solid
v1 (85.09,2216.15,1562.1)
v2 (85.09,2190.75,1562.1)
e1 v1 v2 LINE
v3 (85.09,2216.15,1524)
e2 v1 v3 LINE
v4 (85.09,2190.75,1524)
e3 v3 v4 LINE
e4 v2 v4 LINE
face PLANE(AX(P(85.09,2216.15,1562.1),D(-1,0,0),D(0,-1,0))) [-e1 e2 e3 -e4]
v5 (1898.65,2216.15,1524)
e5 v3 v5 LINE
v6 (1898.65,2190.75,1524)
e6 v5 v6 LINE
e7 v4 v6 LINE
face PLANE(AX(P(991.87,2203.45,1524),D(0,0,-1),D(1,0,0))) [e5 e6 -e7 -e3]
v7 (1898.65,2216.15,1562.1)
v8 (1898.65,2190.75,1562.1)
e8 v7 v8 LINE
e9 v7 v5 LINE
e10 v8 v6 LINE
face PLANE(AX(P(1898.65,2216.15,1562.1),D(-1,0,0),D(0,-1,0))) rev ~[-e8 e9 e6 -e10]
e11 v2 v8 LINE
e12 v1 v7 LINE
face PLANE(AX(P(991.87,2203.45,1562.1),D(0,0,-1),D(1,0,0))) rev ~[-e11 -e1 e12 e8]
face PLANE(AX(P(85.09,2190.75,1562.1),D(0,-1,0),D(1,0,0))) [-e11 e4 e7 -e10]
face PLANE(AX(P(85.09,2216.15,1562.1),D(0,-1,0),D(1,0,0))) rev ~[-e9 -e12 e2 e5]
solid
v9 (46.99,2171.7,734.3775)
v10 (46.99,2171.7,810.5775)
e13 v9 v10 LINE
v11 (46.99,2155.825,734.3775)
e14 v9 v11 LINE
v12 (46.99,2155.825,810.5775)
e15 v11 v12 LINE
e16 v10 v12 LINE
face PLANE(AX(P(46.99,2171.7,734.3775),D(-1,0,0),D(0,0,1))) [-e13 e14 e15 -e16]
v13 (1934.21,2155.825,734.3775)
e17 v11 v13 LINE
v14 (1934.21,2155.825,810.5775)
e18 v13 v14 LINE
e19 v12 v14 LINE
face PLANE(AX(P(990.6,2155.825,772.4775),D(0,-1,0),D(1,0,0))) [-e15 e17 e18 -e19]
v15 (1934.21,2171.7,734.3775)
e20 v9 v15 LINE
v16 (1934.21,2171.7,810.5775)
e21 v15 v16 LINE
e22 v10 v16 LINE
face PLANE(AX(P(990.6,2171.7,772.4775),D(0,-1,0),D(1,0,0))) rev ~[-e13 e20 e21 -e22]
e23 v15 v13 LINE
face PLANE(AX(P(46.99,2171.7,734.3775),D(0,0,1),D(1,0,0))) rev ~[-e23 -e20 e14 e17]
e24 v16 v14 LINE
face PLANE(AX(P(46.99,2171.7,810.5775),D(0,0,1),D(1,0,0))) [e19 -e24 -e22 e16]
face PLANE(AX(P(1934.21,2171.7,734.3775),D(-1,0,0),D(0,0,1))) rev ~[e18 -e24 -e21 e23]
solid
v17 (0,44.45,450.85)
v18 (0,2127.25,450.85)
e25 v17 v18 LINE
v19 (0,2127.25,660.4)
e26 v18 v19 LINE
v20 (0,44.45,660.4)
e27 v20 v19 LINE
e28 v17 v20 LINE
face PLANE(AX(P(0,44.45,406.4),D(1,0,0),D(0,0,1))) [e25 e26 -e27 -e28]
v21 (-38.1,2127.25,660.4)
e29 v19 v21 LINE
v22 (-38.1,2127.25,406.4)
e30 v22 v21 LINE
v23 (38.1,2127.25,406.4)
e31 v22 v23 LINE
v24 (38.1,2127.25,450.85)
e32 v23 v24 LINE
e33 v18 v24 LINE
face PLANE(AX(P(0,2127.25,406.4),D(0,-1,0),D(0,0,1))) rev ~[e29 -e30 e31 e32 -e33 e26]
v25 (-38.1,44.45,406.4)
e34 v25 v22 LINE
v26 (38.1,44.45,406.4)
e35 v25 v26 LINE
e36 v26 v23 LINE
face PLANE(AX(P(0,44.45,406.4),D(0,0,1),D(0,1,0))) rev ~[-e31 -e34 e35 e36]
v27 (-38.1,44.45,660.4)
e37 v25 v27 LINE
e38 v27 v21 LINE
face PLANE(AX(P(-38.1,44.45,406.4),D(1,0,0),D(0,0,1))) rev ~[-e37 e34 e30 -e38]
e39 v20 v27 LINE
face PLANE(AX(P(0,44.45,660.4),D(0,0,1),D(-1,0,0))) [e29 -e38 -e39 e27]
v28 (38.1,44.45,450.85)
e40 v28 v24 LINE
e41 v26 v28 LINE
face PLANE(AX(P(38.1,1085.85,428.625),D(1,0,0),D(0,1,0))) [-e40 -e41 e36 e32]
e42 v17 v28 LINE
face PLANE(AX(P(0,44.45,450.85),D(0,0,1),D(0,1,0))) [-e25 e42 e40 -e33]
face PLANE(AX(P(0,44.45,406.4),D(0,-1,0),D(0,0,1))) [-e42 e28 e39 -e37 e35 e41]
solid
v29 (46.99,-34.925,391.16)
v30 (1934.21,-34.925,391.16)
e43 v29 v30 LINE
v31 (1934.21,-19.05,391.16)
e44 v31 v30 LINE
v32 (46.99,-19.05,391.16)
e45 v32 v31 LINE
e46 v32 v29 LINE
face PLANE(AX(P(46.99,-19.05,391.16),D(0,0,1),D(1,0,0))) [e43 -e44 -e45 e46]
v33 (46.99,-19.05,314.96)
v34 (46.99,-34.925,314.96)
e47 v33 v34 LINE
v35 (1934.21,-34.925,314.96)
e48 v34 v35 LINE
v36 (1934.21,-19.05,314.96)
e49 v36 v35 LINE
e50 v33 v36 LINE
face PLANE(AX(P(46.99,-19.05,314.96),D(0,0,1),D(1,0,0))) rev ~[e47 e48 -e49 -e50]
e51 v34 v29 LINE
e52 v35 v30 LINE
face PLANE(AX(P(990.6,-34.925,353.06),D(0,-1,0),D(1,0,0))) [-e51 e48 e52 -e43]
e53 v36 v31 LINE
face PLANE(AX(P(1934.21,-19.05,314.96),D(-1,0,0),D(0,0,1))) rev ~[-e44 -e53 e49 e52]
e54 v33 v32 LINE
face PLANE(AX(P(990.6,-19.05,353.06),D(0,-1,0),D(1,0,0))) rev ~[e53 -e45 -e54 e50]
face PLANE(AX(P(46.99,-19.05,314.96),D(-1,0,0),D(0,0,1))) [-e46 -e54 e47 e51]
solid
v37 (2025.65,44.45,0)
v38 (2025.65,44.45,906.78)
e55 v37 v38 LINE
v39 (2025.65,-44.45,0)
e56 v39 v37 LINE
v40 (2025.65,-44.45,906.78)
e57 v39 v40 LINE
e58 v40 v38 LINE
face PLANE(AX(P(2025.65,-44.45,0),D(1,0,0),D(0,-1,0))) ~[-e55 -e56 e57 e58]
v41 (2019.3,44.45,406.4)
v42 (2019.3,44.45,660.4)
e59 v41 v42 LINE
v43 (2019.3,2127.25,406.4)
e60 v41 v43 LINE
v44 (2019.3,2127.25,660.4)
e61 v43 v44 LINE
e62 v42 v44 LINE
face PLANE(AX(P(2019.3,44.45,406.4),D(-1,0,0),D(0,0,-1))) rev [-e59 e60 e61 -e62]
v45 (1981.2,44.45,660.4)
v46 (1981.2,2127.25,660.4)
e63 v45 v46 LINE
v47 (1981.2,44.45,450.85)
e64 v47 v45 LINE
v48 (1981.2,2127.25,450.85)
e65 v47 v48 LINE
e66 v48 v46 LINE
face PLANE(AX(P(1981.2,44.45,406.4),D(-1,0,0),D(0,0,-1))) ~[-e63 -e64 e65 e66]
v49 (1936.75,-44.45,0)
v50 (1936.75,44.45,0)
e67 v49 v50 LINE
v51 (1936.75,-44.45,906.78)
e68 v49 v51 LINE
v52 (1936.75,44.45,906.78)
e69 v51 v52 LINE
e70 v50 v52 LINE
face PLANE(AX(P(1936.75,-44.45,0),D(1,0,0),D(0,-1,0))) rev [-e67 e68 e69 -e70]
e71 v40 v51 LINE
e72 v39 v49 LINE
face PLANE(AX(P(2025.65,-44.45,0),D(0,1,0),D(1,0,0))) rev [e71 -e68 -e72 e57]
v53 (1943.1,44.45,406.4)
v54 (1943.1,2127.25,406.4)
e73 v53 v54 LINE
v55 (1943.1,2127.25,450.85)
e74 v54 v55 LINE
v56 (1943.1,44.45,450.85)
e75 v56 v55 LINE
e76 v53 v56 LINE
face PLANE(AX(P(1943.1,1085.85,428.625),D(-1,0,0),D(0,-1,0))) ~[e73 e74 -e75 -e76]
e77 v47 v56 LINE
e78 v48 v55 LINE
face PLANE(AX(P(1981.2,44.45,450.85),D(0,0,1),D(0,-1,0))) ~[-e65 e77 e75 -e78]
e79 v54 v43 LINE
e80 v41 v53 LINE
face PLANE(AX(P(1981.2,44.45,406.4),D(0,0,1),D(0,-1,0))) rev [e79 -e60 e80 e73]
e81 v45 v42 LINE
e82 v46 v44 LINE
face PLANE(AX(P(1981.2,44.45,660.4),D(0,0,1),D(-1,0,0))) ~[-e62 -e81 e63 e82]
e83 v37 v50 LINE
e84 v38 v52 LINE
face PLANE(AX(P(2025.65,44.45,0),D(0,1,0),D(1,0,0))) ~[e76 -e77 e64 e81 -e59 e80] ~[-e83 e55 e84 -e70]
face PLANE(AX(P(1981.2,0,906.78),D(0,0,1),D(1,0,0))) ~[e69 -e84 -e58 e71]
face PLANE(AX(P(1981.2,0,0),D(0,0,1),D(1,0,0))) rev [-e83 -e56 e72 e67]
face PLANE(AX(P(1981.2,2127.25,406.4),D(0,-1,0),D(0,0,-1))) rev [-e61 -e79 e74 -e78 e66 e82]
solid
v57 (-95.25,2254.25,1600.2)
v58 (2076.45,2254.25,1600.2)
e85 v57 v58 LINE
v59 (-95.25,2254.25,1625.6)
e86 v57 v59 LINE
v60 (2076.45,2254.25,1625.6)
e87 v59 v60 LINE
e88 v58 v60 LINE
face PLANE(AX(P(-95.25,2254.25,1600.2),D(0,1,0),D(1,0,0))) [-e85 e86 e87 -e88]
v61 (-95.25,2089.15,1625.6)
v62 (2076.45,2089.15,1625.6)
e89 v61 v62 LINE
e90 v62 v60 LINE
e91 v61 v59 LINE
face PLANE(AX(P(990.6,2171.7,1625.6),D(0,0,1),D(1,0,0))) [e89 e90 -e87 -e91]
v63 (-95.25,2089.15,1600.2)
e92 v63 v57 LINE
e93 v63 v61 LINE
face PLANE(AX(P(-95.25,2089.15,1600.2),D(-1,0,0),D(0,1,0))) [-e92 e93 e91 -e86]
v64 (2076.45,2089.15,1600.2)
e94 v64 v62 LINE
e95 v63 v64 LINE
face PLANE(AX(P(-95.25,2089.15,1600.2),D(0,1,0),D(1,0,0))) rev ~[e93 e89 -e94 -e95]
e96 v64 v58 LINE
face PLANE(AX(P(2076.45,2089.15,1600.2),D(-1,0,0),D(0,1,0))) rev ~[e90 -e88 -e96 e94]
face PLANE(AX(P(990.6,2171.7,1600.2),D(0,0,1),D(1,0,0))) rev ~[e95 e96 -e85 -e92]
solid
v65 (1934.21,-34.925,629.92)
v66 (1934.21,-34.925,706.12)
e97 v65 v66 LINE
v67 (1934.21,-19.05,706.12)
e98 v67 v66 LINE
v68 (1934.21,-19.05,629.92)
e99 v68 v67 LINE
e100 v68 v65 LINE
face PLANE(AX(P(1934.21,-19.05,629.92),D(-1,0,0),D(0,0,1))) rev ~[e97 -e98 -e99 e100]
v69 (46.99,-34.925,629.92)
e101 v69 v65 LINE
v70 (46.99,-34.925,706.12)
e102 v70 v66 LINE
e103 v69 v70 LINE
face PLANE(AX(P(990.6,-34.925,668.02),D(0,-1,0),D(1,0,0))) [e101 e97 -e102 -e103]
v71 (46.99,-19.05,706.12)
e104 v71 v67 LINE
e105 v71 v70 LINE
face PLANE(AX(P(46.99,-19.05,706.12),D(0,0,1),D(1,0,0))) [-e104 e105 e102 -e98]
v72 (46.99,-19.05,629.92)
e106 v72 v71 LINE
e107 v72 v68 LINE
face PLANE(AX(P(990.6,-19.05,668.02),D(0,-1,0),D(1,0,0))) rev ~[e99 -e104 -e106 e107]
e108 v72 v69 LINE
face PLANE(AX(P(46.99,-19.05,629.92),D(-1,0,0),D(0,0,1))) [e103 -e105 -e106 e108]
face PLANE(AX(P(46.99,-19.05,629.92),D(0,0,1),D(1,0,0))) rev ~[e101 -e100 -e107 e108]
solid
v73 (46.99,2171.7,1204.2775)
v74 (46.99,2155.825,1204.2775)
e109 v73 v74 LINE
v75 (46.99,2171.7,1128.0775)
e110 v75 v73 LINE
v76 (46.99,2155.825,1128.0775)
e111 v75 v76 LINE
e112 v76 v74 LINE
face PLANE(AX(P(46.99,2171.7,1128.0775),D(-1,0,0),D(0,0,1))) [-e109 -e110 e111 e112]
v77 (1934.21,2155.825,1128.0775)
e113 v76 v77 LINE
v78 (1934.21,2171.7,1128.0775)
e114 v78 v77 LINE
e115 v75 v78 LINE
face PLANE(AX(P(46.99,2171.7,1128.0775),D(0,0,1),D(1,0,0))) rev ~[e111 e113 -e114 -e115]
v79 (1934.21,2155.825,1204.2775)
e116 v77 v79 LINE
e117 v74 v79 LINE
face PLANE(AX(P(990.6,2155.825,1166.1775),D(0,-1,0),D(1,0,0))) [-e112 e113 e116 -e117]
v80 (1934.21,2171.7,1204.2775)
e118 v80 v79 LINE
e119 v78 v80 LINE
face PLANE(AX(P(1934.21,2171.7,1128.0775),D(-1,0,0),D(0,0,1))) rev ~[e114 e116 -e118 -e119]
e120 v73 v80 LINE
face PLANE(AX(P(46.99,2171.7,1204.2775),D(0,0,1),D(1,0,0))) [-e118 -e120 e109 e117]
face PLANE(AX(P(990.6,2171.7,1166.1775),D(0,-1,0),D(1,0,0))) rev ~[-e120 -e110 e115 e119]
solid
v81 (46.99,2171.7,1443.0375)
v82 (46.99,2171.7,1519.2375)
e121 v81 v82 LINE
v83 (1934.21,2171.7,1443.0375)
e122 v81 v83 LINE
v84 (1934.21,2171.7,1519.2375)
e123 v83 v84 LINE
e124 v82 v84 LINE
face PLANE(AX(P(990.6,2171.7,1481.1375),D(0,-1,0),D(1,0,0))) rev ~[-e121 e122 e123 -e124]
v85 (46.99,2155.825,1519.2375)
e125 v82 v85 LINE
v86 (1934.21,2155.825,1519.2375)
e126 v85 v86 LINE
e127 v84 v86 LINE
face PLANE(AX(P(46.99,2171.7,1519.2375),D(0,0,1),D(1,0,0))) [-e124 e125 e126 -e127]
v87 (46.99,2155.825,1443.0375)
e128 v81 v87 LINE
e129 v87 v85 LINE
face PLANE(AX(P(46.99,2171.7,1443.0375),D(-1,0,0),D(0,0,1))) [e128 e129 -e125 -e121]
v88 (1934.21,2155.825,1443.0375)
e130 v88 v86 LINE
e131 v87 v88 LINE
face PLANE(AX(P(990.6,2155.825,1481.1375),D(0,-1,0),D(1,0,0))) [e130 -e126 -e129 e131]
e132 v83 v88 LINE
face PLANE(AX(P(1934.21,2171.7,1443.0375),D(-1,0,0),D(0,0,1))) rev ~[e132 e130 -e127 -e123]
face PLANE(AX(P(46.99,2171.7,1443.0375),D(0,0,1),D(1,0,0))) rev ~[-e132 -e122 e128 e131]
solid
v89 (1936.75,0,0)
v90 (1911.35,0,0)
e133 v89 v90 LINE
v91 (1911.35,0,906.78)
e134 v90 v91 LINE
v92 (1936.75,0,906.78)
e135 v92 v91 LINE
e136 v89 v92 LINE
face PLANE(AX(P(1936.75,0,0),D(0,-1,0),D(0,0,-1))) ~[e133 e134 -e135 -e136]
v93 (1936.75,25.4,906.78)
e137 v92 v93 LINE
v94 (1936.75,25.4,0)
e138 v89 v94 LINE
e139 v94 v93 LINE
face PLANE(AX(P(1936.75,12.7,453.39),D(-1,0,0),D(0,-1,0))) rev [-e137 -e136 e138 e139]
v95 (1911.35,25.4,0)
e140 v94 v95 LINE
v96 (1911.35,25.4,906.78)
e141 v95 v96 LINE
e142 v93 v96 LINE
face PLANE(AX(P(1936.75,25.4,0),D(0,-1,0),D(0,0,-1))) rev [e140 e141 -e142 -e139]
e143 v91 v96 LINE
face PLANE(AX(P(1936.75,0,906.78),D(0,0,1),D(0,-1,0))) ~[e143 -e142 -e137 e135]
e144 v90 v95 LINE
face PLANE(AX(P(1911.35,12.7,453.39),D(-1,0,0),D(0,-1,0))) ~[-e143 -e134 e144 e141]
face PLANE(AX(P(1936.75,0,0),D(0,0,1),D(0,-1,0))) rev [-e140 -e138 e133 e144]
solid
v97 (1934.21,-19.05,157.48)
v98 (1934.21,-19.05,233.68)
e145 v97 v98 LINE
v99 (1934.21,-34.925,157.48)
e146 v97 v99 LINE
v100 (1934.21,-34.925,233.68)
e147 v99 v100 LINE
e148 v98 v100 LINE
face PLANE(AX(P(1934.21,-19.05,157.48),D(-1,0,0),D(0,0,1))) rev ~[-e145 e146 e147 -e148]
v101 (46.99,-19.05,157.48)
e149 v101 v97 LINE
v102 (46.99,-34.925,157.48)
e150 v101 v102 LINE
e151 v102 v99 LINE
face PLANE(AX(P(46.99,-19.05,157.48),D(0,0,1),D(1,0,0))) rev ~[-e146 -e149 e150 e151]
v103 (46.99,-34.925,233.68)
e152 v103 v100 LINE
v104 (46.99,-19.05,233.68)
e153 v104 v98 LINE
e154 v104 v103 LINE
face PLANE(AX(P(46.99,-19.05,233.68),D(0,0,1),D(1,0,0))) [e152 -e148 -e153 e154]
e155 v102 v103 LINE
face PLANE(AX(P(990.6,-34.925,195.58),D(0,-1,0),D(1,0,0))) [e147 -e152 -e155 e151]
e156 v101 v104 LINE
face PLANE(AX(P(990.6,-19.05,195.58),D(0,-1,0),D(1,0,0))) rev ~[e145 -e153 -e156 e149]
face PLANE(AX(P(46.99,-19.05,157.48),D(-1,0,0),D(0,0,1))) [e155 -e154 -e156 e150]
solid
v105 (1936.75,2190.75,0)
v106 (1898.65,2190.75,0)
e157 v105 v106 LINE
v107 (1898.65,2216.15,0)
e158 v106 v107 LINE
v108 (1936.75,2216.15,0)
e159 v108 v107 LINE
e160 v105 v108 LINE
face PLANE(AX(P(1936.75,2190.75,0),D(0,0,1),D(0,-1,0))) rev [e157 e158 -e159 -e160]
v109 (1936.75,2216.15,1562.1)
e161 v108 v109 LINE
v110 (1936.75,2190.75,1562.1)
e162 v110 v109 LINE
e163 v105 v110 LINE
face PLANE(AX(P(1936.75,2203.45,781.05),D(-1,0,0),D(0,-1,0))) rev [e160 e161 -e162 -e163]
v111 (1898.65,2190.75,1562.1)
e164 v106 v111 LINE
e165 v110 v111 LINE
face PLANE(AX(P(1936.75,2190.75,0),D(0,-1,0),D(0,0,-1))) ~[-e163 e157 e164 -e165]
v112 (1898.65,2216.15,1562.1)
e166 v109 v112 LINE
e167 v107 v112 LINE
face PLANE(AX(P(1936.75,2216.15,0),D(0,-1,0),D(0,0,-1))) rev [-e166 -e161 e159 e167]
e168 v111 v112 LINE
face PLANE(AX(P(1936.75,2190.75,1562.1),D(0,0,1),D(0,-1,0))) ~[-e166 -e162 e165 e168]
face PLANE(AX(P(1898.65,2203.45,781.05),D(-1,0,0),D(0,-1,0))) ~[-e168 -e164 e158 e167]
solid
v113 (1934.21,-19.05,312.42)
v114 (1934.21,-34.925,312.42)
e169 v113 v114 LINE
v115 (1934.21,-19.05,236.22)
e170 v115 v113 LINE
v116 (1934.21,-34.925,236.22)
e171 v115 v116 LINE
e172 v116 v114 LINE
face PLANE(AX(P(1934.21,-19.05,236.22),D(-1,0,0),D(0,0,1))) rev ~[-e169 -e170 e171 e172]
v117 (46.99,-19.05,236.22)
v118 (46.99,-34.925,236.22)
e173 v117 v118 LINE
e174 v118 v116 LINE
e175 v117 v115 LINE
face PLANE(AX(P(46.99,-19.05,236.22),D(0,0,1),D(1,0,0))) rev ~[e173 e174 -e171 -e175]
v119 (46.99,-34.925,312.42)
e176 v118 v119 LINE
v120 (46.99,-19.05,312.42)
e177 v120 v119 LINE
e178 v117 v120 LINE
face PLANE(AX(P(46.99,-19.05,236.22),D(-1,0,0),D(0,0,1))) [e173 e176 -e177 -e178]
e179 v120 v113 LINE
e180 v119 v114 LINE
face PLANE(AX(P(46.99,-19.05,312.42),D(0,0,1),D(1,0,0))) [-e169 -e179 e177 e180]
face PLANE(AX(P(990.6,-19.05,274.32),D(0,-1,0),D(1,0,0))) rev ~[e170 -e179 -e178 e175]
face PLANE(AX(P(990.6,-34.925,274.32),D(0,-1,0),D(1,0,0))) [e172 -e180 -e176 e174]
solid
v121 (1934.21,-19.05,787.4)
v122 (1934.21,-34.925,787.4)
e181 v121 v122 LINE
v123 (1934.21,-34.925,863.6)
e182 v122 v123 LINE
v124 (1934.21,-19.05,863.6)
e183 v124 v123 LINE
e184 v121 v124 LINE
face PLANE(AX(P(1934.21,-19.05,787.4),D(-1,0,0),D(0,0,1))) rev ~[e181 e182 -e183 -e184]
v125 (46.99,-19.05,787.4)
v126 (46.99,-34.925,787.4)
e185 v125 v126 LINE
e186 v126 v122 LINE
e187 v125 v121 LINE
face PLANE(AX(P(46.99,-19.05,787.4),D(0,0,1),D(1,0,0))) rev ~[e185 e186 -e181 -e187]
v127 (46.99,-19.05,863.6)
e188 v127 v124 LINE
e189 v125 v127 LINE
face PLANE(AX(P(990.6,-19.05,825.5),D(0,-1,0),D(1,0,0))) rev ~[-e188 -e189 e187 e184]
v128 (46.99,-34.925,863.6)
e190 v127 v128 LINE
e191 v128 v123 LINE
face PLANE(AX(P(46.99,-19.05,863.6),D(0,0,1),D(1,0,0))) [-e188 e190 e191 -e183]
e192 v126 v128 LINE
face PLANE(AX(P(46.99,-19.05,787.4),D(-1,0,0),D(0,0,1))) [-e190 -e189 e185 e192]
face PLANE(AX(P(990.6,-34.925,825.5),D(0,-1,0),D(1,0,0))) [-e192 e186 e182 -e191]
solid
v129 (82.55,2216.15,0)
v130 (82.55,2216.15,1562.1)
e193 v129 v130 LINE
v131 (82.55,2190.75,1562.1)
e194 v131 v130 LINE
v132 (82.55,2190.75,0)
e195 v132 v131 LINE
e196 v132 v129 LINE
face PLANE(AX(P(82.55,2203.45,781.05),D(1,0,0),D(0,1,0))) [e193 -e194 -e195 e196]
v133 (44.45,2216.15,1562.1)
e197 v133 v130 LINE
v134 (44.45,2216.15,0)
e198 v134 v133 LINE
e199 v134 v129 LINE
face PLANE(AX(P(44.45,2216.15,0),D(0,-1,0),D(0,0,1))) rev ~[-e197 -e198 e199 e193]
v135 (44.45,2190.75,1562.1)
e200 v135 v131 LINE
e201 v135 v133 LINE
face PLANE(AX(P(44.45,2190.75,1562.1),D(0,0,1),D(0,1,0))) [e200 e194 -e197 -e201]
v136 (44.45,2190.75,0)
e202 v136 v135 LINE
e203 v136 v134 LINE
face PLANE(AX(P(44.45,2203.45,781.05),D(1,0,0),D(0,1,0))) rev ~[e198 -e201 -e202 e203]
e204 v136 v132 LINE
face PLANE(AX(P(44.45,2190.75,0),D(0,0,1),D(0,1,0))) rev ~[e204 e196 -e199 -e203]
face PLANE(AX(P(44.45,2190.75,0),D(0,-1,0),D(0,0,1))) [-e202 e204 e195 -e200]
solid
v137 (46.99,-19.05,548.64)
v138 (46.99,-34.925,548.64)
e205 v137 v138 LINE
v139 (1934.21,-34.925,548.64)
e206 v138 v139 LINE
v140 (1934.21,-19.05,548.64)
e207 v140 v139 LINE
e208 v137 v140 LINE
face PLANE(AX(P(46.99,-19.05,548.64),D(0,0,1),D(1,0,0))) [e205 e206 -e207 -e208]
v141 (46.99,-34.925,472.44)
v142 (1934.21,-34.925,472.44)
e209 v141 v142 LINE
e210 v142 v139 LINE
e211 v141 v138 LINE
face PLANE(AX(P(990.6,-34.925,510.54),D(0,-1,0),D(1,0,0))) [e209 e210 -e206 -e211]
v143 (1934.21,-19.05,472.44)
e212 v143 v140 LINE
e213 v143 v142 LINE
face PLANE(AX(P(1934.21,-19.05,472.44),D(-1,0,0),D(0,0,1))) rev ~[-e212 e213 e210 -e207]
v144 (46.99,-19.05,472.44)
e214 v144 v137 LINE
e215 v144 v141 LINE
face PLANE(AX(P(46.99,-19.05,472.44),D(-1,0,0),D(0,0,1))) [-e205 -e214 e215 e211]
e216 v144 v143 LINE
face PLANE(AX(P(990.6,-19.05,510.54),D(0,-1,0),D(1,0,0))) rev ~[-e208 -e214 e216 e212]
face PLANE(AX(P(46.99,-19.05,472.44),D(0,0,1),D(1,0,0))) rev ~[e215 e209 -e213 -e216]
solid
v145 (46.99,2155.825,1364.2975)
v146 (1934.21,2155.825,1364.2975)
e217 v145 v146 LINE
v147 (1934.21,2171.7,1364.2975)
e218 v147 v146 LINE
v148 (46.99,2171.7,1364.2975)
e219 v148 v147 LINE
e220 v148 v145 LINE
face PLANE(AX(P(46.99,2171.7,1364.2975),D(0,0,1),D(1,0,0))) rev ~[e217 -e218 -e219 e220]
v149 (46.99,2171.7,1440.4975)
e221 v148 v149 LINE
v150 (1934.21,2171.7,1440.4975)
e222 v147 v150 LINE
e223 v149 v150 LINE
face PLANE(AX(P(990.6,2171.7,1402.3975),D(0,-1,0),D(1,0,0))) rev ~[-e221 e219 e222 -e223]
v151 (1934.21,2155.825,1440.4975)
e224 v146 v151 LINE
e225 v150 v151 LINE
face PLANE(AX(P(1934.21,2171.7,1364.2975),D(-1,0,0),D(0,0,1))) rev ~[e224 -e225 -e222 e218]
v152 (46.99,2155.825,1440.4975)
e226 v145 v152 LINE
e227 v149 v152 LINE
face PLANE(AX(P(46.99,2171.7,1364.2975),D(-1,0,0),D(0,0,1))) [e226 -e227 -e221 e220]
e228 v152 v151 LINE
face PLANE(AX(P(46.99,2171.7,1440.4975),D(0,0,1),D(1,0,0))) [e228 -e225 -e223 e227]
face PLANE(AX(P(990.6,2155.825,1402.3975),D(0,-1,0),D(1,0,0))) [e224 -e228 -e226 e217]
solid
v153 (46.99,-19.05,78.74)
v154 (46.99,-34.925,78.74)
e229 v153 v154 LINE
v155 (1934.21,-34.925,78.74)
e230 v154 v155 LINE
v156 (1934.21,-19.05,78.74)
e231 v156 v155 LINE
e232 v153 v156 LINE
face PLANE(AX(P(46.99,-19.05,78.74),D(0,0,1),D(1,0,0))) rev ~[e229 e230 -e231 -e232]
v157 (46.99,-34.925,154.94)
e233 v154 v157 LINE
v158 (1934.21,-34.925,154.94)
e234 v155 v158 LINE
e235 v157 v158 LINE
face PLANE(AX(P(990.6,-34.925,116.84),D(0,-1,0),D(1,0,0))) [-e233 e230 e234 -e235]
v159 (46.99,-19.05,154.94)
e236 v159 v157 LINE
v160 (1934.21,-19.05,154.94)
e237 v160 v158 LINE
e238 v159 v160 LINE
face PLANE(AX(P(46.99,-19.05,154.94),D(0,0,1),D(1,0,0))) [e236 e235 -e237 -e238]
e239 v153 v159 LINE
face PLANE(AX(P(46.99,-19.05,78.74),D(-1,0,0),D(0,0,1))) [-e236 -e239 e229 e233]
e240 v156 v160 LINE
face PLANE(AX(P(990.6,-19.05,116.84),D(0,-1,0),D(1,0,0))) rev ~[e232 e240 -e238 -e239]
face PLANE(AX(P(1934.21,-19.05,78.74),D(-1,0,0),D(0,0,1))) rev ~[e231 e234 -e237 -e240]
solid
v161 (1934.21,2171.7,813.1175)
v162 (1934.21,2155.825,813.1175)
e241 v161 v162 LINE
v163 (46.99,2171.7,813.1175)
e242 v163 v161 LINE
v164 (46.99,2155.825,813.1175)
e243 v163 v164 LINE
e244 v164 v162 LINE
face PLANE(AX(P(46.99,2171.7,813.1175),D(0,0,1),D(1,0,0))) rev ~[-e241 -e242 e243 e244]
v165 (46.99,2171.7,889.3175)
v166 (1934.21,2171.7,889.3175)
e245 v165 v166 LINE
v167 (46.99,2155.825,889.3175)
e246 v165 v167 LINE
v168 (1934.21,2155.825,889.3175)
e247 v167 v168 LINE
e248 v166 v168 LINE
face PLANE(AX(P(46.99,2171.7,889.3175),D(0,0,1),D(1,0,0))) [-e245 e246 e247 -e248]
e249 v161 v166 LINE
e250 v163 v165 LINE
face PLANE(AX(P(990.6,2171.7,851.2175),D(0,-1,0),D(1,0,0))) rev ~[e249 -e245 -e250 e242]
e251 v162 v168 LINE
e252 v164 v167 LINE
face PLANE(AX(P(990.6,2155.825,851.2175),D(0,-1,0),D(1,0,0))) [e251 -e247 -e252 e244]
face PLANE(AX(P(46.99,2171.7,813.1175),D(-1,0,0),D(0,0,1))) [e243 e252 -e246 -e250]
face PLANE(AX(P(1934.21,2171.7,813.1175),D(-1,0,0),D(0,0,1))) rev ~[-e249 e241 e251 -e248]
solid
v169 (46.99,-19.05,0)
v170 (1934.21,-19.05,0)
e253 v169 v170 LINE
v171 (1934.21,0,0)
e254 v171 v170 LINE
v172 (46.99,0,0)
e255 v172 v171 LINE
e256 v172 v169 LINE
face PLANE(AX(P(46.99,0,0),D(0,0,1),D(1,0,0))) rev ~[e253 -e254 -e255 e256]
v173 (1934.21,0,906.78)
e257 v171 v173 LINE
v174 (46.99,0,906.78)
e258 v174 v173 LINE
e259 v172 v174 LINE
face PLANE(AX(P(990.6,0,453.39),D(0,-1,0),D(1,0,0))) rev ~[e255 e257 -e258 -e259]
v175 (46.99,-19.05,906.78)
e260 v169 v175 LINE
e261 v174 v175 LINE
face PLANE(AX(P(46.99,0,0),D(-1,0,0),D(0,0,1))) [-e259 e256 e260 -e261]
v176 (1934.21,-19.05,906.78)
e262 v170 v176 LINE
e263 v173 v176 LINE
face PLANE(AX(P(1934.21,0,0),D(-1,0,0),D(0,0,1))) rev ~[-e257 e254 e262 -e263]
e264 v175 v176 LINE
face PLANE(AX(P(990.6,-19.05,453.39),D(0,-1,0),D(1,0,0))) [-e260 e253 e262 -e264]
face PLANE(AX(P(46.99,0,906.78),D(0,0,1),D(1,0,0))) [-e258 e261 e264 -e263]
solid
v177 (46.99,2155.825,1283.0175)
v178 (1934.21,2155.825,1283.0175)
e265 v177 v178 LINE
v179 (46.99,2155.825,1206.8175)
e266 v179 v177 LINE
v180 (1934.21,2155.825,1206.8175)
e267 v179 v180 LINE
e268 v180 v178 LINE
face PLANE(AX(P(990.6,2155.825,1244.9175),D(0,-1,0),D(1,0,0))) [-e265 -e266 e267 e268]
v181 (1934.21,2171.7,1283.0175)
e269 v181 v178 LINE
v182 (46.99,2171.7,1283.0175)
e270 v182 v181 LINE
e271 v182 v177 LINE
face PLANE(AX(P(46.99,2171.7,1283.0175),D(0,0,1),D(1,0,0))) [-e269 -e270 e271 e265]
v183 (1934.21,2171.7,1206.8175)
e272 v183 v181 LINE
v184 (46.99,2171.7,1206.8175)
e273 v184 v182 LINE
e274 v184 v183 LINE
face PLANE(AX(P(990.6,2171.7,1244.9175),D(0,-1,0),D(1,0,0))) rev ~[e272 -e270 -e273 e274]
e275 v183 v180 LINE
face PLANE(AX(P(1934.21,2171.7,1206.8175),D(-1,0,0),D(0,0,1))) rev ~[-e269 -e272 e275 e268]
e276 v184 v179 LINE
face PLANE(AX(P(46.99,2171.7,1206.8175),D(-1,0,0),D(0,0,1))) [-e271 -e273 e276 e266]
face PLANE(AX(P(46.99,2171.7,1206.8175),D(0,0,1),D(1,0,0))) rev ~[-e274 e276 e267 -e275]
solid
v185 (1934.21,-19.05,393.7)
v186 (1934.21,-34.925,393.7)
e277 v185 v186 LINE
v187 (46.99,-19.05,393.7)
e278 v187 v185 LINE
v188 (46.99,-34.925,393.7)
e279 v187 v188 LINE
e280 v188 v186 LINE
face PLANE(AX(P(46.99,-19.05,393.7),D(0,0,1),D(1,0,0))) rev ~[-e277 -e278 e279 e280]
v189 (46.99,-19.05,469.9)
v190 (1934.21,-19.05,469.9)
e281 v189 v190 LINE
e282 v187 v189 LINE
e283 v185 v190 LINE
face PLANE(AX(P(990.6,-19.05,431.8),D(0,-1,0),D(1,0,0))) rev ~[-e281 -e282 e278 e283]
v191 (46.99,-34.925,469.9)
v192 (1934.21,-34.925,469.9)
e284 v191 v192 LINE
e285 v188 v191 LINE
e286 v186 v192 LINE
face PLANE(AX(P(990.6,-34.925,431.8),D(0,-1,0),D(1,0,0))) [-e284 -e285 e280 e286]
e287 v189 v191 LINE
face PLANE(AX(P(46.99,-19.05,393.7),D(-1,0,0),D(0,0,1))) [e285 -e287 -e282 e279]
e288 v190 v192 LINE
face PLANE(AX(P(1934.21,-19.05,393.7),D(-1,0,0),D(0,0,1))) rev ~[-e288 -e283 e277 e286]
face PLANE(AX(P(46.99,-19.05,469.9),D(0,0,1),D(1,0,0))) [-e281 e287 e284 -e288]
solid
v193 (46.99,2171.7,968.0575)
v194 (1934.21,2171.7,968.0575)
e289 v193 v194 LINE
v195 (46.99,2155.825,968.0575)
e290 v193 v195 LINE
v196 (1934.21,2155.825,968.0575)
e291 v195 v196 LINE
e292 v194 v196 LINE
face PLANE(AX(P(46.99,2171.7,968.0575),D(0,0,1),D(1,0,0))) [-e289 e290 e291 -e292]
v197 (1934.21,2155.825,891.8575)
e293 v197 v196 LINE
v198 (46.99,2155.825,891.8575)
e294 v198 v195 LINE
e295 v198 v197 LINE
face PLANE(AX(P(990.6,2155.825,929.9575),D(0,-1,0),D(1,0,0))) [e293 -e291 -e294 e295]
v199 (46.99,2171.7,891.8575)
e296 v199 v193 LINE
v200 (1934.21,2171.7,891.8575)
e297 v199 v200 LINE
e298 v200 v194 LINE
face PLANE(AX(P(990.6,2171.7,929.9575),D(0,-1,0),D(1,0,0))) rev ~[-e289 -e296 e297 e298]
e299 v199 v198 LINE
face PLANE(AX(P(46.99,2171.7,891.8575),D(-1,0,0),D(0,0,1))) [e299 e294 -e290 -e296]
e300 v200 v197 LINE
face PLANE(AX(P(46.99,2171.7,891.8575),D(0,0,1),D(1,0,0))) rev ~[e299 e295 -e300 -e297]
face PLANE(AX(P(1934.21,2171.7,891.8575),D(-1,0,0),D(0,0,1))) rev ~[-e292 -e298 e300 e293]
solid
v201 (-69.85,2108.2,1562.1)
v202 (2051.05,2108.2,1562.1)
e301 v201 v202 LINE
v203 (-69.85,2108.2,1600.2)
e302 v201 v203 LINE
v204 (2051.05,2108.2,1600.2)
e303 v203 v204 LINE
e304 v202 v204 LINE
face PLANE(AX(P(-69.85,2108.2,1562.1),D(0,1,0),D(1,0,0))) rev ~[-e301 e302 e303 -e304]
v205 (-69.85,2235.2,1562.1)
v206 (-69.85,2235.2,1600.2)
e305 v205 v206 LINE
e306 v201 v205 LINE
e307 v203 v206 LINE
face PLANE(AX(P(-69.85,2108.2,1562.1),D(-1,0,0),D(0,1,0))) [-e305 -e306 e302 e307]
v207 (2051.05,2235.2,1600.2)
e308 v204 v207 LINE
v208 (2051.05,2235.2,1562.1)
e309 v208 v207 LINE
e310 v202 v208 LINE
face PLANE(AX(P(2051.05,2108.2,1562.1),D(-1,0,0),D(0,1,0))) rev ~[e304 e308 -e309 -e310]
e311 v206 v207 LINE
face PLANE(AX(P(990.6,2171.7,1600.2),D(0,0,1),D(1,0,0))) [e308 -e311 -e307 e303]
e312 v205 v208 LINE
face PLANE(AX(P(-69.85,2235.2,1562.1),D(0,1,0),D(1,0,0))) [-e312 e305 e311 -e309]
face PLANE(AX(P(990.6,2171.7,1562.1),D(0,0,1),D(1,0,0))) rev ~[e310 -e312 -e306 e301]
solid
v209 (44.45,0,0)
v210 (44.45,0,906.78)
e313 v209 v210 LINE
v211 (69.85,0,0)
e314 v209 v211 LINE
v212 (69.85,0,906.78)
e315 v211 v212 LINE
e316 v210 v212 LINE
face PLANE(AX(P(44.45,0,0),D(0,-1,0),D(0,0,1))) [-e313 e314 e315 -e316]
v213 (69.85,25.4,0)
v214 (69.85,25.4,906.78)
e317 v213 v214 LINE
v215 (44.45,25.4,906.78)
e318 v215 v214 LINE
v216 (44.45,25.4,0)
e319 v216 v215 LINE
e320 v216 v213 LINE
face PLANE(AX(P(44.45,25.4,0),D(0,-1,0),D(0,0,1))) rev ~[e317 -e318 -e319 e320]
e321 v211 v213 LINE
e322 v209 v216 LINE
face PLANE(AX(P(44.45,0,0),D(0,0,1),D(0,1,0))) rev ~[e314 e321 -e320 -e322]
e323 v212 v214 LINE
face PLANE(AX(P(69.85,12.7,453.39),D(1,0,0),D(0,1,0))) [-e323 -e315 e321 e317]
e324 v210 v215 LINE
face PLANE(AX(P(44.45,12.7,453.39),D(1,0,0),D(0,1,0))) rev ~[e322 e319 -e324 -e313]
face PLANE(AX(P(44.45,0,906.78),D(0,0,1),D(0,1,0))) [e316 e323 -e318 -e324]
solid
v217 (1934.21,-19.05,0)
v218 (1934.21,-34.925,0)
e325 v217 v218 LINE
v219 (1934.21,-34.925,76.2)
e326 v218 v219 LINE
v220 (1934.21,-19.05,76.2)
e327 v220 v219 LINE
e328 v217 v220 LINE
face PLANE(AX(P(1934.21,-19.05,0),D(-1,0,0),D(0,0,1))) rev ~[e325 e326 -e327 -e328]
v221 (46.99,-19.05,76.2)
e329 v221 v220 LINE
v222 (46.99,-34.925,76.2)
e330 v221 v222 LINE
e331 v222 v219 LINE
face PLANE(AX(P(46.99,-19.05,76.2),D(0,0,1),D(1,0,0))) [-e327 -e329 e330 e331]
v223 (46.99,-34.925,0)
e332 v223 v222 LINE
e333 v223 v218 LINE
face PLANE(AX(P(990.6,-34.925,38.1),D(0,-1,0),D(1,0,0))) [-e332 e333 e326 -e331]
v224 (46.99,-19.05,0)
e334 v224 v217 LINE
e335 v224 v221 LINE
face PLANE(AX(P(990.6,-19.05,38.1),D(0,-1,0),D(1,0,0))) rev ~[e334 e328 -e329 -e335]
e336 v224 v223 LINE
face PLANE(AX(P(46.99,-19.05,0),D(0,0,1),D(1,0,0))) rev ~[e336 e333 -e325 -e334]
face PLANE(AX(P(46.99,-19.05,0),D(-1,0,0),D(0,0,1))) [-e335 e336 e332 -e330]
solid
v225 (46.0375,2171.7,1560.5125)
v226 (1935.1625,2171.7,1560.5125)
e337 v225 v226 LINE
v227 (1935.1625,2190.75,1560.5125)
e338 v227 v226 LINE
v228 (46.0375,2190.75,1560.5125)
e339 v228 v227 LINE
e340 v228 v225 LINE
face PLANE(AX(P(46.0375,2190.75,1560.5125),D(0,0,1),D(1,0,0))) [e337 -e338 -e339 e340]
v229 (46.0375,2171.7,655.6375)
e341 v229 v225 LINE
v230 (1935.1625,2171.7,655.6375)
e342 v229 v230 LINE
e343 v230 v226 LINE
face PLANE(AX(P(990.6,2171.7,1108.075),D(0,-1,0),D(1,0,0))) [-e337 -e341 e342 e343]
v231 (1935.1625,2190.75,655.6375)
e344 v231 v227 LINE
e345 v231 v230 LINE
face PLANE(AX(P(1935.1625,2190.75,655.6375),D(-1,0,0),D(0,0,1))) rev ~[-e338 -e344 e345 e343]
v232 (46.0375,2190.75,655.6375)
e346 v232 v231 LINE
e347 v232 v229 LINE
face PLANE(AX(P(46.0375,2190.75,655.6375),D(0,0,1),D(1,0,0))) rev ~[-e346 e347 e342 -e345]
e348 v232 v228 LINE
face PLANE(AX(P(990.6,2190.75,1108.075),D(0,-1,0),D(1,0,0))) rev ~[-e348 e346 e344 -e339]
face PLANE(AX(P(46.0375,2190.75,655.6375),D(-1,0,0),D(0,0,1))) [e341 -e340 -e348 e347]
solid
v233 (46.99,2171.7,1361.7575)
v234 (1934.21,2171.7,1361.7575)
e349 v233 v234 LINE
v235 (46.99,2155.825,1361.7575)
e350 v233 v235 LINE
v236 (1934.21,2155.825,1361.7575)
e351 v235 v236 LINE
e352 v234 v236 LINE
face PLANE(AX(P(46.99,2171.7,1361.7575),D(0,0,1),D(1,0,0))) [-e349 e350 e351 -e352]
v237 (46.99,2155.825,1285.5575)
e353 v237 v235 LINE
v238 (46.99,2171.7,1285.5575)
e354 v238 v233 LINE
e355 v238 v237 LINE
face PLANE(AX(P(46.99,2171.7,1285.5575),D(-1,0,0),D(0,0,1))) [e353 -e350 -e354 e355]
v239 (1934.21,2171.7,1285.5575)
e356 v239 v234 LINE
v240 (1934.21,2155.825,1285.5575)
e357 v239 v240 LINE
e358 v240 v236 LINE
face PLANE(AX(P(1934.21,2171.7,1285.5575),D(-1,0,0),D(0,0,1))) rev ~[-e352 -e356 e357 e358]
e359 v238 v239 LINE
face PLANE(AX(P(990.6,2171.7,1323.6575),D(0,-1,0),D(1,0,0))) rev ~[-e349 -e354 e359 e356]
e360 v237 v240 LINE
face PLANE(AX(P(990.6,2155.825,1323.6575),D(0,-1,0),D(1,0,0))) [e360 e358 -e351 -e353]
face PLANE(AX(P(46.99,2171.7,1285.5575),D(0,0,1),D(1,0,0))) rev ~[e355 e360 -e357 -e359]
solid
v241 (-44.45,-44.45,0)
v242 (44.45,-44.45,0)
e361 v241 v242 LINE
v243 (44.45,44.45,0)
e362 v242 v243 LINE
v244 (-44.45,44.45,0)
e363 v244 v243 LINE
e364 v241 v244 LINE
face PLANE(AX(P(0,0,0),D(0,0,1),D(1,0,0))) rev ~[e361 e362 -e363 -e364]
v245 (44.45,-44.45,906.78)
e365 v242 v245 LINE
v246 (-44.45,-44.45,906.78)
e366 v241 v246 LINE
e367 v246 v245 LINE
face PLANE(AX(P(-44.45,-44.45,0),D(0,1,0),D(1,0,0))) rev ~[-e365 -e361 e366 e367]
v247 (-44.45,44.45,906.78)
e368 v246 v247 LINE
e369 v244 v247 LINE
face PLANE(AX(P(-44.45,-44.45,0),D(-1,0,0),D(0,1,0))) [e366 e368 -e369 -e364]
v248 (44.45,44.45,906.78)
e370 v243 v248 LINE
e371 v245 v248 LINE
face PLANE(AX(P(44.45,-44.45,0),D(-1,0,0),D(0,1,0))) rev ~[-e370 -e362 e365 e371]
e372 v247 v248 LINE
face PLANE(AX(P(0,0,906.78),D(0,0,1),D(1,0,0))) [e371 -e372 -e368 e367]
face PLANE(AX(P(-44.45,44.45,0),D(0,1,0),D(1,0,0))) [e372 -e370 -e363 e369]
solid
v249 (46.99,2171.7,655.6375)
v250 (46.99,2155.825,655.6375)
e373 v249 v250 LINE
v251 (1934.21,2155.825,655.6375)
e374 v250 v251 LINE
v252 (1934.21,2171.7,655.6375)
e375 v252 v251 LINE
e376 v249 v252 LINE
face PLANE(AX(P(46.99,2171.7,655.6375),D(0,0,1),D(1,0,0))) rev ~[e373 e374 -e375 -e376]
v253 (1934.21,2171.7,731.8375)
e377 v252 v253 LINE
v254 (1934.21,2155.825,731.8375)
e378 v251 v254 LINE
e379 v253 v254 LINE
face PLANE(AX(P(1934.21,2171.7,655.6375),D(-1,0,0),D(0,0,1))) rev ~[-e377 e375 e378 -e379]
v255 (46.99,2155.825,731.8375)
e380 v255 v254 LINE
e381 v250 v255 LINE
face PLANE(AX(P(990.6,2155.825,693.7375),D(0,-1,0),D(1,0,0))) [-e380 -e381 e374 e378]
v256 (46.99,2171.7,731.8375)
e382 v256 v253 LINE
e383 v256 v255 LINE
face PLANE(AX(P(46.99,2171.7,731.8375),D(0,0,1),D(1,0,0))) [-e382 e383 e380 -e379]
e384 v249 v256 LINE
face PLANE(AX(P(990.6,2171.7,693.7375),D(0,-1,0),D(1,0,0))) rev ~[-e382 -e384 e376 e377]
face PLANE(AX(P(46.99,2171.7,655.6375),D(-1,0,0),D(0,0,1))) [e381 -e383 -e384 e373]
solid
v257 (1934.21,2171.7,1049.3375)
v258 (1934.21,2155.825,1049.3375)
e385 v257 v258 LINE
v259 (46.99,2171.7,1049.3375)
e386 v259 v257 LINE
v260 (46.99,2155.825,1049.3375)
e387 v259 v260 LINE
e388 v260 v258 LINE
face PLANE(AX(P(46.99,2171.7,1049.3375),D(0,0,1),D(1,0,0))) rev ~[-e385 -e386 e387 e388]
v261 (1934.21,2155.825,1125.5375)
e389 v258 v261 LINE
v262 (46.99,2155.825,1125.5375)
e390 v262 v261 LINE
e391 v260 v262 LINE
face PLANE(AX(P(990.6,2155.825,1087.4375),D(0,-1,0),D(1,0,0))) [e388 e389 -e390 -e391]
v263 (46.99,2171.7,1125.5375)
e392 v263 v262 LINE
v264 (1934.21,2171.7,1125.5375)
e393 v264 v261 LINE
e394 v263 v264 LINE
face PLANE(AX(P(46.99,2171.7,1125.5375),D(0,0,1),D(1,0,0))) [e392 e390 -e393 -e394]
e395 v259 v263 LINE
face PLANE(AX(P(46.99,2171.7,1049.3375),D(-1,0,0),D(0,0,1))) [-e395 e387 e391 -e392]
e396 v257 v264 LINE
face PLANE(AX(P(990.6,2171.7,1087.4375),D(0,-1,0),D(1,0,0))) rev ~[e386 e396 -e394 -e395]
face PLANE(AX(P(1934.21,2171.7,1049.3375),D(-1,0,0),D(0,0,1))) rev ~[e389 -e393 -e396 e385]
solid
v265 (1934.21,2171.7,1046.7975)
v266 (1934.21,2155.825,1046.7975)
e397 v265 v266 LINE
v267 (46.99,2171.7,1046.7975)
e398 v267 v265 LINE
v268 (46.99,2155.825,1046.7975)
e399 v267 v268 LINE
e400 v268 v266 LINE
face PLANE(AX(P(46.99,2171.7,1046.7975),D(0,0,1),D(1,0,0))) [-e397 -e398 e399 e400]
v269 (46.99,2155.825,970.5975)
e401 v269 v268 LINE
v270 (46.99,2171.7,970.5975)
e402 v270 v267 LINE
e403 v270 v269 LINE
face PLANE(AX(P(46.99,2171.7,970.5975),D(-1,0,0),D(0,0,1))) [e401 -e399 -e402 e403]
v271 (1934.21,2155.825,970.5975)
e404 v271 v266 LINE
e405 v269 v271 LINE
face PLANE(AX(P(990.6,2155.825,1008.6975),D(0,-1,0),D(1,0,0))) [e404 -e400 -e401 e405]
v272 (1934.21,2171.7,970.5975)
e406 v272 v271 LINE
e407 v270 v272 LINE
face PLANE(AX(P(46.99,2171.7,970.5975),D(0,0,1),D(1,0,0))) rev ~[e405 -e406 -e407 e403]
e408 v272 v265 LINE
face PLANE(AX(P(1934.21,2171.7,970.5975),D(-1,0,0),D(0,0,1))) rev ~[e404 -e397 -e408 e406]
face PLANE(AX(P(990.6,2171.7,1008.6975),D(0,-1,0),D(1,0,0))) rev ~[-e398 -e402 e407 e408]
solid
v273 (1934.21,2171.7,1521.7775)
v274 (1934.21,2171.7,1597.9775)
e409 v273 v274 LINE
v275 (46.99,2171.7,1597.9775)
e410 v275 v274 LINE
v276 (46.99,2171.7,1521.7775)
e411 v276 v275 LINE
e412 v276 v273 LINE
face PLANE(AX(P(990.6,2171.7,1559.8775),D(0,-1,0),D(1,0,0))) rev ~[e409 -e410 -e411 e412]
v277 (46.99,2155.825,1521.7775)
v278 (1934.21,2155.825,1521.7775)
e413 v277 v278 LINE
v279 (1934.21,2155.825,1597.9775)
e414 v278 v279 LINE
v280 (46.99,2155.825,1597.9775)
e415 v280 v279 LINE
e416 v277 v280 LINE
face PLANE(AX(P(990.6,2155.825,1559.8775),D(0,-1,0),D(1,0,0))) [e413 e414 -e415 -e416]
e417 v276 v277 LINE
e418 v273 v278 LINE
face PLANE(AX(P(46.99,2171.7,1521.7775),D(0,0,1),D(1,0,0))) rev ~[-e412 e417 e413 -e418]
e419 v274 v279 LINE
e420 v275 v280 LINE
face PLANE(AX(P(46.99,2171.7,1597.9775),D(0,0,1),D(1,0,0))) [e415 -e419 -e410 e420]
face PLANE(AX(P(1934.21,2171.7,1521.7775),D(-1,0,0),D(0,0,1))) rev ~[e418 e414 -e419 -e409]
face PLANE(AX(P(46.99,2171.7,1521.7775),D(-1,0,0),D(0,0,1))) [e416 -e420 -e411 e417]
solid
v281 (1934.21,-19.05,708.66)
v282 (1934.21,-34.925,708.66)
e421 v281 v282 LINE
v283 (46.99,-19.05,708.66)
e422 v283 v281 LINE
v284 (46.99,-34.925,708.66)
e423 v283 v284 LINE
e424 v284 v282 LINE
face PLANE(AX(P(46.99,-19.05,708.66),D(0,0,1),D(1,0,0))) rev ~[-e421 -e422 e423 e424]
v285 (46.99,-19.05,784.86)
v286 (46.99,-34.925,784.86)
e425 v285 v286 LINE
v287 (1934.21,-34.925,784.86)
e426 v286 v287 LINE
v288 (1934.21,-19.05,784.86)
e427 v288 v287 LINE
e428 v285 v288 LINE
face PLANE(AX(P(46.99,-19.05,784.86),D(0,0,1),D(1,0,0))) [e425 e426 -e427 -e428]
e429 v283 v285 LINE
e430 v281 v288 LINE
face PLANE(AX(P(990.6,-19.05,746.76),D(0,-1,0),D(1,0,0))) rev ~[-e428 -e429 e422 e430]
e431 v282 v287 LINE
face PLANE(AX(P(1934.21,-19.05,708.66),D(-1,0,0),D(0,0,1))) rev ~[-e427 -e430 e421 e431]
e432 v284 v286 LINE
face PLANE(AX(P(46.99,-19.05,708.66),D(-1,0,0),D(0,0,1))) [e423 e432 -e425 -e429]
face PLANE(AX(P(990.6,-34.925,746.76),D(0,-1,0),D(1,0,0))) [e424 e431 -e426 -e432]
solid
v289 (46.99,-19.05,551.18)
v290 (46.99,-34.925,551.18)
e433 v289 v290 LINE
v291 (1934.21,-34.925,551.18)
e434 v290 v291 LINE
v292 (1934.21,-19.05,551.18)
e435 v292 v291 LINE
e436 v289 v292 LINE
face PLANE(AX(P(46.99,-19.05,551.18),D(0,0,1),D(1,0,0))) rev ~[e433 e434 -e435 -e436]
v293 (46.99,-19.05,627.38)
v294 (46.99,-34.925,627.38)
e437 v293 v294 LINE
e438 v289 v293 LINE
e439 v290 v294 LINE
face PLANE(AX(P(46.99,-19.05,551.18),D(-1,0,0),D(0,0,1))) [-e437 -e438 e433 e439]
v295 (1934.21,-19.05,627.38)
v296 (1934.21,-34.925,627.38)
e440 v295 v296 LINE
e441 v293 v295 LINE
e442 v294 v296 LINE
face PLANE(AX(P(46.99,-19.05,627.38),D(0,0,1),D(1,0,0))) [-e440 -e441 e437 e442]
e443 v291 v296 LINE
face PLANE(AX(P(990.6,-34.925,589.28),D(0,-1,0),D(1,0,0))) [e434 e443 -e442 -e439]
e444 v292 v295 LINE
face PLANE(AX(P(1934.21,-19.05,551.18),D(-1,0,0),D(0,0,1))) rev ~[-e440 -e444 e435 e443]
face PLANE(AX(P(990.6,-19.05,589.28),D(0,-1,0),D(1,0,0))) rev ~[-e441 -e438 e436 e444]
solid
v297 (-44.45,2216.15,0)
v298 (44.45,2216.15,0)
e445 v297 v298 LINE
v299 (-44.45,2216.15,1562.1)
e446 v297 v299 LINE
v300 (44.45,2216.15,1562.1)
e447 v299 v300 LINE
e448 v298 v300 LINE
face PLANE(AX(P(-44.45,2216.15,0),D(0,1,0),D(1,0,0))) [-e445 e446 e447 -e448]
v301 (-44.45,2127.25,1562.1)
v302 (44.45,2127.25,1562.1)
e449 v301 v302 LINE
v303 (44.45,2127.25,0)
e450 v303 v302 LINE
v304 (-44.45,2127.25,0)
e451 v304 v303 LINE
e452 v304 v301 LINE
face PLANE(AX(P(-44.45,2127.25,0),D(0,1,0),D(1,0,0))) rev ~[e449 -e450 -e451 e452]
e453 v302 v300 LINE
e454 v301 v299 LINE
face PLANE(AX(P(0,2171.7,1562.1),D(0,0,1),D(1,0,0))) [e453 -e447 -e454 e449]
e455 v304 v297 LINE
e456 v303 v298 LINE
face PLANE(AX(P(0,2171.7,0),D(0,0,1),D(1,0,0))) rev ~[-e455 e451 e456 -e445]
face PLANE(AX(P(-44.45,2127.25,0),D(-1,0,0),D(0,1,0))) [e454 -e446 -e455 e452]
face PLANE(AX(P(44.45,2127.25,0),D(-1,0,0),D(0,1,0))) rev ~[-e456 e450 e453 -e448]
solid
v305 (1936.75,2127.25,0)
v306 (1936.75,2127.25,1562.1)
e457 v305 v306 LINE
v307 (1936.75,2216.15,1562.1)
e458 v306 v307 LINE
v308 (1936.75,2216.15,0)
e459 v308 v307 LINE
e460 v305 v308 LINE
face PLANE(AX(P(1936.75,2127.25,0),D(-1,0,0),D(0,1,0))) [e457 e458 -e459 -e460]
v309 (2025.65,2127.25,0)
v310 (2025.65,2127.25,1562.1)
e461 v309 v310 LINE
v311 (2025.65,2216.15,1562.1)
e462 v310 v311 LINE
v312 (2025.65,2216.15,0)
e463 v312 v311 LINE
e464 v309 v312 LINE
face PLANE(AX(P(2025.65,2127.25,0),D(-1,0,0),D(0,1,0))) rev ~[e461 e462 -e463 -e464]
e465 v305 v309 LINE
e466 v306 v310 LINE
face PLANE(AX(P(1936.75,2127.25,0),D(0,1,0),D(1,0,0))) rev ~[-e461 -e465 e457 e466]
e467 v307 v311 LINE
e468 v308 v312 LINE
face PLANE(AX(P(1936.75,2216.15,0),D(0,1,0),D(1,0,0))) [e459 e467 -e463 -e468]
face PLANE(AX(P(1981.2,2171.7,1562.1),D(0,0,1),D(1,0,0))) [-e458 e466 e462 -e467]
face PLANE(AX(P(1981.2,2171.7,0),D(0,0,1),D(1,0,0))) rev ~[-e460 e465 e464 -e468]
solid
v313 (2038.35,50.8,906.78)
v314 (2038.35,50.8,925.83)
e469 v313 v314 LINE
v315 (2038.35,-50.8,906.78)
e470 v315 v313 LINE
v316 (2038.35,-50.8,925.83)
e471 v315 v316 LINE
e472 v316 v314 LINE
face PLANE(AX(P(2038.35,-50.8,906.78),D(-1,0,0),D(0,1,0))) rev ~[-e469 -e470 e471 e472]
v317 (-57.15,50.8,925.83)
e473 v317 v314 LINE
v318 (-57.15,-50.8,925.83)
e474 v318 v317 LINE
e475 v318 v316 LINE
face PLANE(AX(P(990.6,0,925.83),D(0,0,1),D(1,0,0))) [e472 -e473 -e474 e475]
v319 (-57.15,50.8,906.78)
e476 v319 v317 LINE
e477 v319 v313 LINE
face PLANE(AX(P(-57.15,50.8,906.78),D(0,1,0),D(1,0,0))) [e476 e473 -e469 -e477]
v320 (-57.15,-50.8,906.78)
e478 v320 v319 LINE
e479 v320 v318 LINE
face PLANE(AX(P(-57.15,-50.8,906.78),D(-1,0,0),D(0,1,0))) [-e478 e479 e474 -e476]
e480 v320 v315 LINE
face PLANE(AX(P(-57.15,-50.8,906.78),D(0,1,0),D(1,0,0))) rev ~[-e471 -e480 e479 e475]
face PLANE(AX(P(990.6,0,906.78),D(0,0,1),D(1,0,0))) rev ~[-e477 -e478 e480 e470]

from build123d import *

# Parameters (mm, degrees)
F0_W      = 88.9
F0_H      = 88.9
F1_DEPTH  = 906.78
F2_W      = 25.4
F2_H      = 906.78
F3_DEPTH  = 25.4
F6_W      = 2095.5
F6_H      = 101.6
F7_DEPTH  = 19.05
F8_W      = 1887.22
F8_H      = 906.78
F9_DEPTH  = 19.05
F10_W     = 1887.22
F10_H     = 76.2
F11_DEPTH = 15.875
F12_W     = 38.1
F12_H     = 254
F13_DEPTH = 2082.8
F14_W     = 2082.8
F14_H     = 44.45
F15_DEPTH = 38.1
F17_W     = 88.9
F17_H     = 88.9
F18_DEPTH = 1562.1
F19_W     = 25.4
F19_H     = 1562.1
F20_DEPTH = 38.1
F22_W     = 2120.9
F22_H     = 127
F23_DEPTH = 38.1
F24_W     = 1813.56
F24_H     = 25.4
F25_DEPTH = 38.1
F26_W     = 1889.125
F26_H     = 904.875
F27_DEPTH = 19.05
F28_W     = 1887.22
F28_H     = 76.2
F29_DEPTH = 15.875
F30_W     = 2171.7
F30_H     = 165.1
F31_DEPTH = 25.4


with BuildPart() as f1:
    # F0 (on Top) → F1 (new body)
    with BuildSketch(Plane.XY):
        Rectangle(F0_W, F0_H)
    extrude(amount=F1_DEPTH)


with BuildPart() as f3:
    # F2 (on face) → F3 (new body)
    with BuildSketch(Plane.YZ.offset(44.45)):
        with Locations((12.7, 453.39)):
            Rectangle(F2_W, F2_H)
    extrude(amount=F3_DEPTH)


with BuildPart() as f5_1:
    # F5: instance of F1
    add(f1.part.mirror(Plane.YZ.offset(990.6)))



with BuildPart() as f5_2:
    # F5: instance of F3
    add(f3.part.mirror(Plane.YZ.offset(990.6)))


with BuildPart() as f7:
    # F6 (on face) → F7 (new body)
    with BuildSketch(Plane.XY.offset(906.78)):
        with Locations((990.6, 0)):
            Rectangle(F6_W, F6_H)
    extrude(amount=F7_DEPTH)


with BuildPart() as f9:
    # F8 (on face) → F9 (new body)
    with BuildSketch(Plane.XZ):
        with Locations((990.6, 453.39)):
            Rectangle(F8_W, F8_H)
    extrude(amount=F9_DEPTH)


with BuildPart() as f11:
    # F10 (on face) → F11 (new body)
    with BuildSketch(Plane.XZ.offset(19.05)):
        with Locations((990.6, 38.1)):
            Rectangle(F10_W, F10_H)
    extrude(amount=F11_DEPTH)


with BuildPart() as f11b:
    # F10 (on face) → F11, piece 2 (new body)
    with BuildSketch(Plane.XZ.offset(19.05)):
        with Locations((990.6, 116.84)):
            Rectangle(F10_W, F10_H)
    extrude(amount=F11_DEPTH)


with BuildPart() as f11c:
    # F10 (on face) → F11, piece 3 (new body)
    with BuildSketch(Plane.XZ.offset(19.05)):
        with Locations((990.6, 195.58)):
            Rectangle(F10_W, F10_H)
    extrude(amount=F11_DEPTH)


with BuildPart() as f11d:
    # F10 (on face) → F11, piece 4 (new body)
    with BuildSketch(Plane.XZ.offset(19.05)):
        with Locations((990.6, 274.32)):
            Rectangle(F10_W, F10_H)
    extrude(amount=F11_DEPTH)


with BuildPart() as f11e:
    # F10 (on face) → F11, piece 5 (new body)
    with BuildSketch(Plane.XZ.offset(19.05)):
        with Locations((990.6, 353.06)):
            Rectangle(F10_W, F10_H)
    extrude(amount=F11_DEPTH)


with BuildPart() as f11f:
    # F10 (on face) → F11, piece 6 (new body)
    with BuildSketch(Plane.XZ.offset(19.05)):
        with Locations((990.6, 431.8)):
            Rectangle(F10_W, F10_H)
    extrude(amount=F11_DEPTH)


with BuildPart() as f11g:
    # F10 (on face) → F11, piece 7 (new body)
    with BuildSketch(Plane.XZ.offset(19.05)):
        with Locations((990.6, 510.54)):
            Rectangle(F10_W, F10_H)
    extrude(amount=F11_DEPTH)


with BuildPart() as f11h:
    # F10 (on face) → F11, piece 8 (new body)
    with BuildSketch(Plane.XZ.offset(19.05)):
        with Locations((990.6, 589.28)):
            Rectangle(F10_W, F10_H)
    extrude(amount=F11_DEPTH)


with BuildPart() as f11i:
    # F10 (on face) → F11, piece 9 (new body)
    with BuildSketch(Plane.XZ.offset(19.05)):
        with Locations((990.6, 668.02)):
            Rectangle(F10_W, F10_H)
    extrude(amount=F11_DEPTH)


with BuildPart() as f11j:
    # F10 (on face) → F11, piece 10 (new body)
    with BuildSketch(Plane.XZ.offset(19.05)):
        with Locations((990.6, 746.76)):
            Rectangle(F10_W, F10_H)
    extrude(amount=F11_DEPTH)


with BuildPart() as f11k:
    # F10 (on face) → F11, piece 11 (new body)
    with BuildSketch(Plane.XZ.offset(19.05)):
        with Locations((990.6, 825.5)):
            Rectangle(F10_W, F10_H)
    extrude(amount=F11_DEPTH)


with BuildPart() as f13:
    # F12 (on face) → F13 (new body)
    with BuildSketch(Plane(origin=(0, 44.45, 0), x_dir=(-1, 0, 0), z_dir=(0, 1, 0))):
        with Locations((19.05, 533.4)):
            Rectangle(F12_W, F12_H)
    extrude(amount=F13_DEPTH)


with BuildPart() as f15:
    # F14 (on face) → F15 (new body)
    with BuildSketch(Plane.YZ):
        with Locations((1085.85, 428.625)):
            Rectangle(F14_W, F14_H)
    extrude(amount=F15_DEPTH)


with BuildPart() as f5_1_1:
    add(f5_1.part)

    add(f13.part)  # F16 merges F13

    add(f15.part)  # F16 merges F15
    # F16: F13, F15 across plane
    add(f13.part.mirror(Plane.YZ.offset(990.6)))
    add(f15.part.mirror(Plane.YZ.offset(990.6)))


with BuildPart() as f18:
    # F17 (on Top) → F18 (new body)
    with BuildSketch(Plane.XY):
        with Locations((0, 2171.7)):
            Rectangle(F17_W, F17_H)
    extrude(amount=F18_DEPTH)


with BuildPart() as f18b:
    # F17 (on Top) → F18, piece 2 (new body)
    with BuildSketch(Plane.XY):
        with Locations((1981.2, 2171.7)):
            Rectangle(F17_W, F17_H)
    extrude(amount=F18_DEPTH)


with BuildPart() as f20:
    # F19 (on face) → F20 (new body)
    with BuildSketch(Plane.YZ.offset(44.45)):
        with Locations((2203.45, 781.05)):
            Rectangle(F19_W, F19_H)
    extrude(amount=F20_DEPTH)


with BuildPart() as f21_1:
    # F21: instance of F20
    add(f20.part.mirror(Plane.YZ.offset(990.6)))


with BuildPart() as f23:
    # F22 (on face) → F23 (new body)
    with BuildSketch(Plane.XY.offset(1562.1)):
        with Locations((990.6, 2171.7)):
            Rectangle(F22_W, F22_H)
    extrude(amount=F23_DEPTH)


with BuildPart() as f25:
    # F24 (on face) → F25 (new body)
    with BuildSketch(Plane(origin=(0, 0, 1562.1), x_dir=(1, 0, 0), z_dir=(0, 0, -1))):
        with Locations((991.87, -2203.45)):
            Rectangle(F24_W, F24_H)
    extrude(amount=F25_DEPTH)


with BuildPart() as f27:
    # F26 (on face) → F27 (new body)
    with BuildSketch(Plane.XZ.offset(-2190.75)):
        with Locations((990.6, 1108.075)):
            Rectangle(F26_W, F26_H)
    extrude(amount=F27_DEPTH)


with BuildPart() as f29:
    # F28 (on face) → F29 (new body)
    with BuildSketch(Plane.XZ.offset(-2171.7)):
        with Locations((990.6, 693.7375)):
            Rectangle(F28_W, F28_H)
    extrude(amount=F29_DEPTH)


with BuildPart() as f29b:
    # F28 (on face) → F29, piece 2 (new body)
    with BuildSketch(Plane.XZ.offset(-2171.7)):
        with Locations((990.6, 772.4775)):
            Rectangle(F28_W, F28_H)
    extrude(amount=F29_DEPTH)


with BuildPart() as f29c:
    # F28 (on face) → F29, piece 3 (new body)
    with BuildSketch(Plane.XZ.offset(-2171.7)):
        with Locations((990.6, 851.2175)):
            Rectangle(F28_W, F28_H)
    extrude(amount=F29_DEPTH)


with BuildPart() as f29d:
    # F28 (on face) → F29, piece 4 (new body)
    with BuildSketch(Plane.XZ.offset(-2171.7)):
        with Locations((990.6, 929.9575)):
            Rectangle(F28_W, F28_H)
    extrude(amount=F29_DEPTH)


with BuildPart() as f29e:
    # F28 (on face) → F29, piece 5 (new body)
    with BuildSketch(Plane.XZ.offset(-2171.7)):
        with Locations((990.6, 1008.6975)):
            Rectangle(F28_W, F28_H)
    extrude(amount=F29_DEPTH)


with BuildPart() as f29f:
    # F28 (on face) → F29, piece 6 (new body)
    with BuildSketch(Plane.XZ.offset(-2171.7)):
        with Locations((990.6, 1087.4375)):
            Rectangle(F28_W, F28_H)
    extrude(amount=F29_DEPTH)


with BuildPart() as f29g:
    # F28 (on face) → F29, piece 7 (new body)
    with BuildSketch(Plane.XZ.offset(-2171.7)):
        with Locations((990.6, 1166.1775)):
            Rectangle(F28_W, F28_H)
    extrude(amount=F29_DEPTH)


with BuildPart() as f29h:
    # F28 (on face) → F29, piece 8 (new body)
    with BuildSketch(Plane.XZ.offset(-2171.7)):
        with Locations((990.6, 1244.9175)):
            Rectangle(F28_W, F28_H)
    extrude(amount=F29_DEPTH)


with BuildPart() as f29i:
    # F28 (on face) → F29, piece 9 (new body)
    with BuildSketch(Plane.XZ.offset(-2171.7)):
        with Locations((990.6, 1323.6575)):
            Rectangle(F28_W, F28_H)
    extrude(amount=F29_DEPTH)


with BuildPart() as f29j:
    # F28 (on face) → F29, piece 10 (new body)
    with BuildSketch(Plane.XZ.offset(-2171.7)):
        with Locations((990.6, 1402.3975)):
            Rectangle(F28_W, F28_H)
    extrude(amount=F29_DEPTH)


with BuildPart() as f29k:
    # F28 (on face) → F29, piece 11 (new body)
    with BuildSketch(Plane.XZ.offset(-2171.7)):
        with Locations((990.6, 1481.1375)):
            Rectangle(F28_W, F28_H)
    extrude(amount=F29_DEPTH)


with BuildPart() as f29l:
    # F28 (on face) → F29, piece 12 (new body)
    with BuildSketch(Plane.XZ.offset(-2171.7)):
        with Locations((990.6, 1559.8775)):
            Rectangle(F28_W, F28_H)
    extrude(amount=F29_DEPTH)


with BuildPart() as f31:
    # F30 (on face) → F31 (new body)
    with BuildSketch(Plane.XY.offset(1600.2)):
        with Locations((990.6, 2171.7)):
            Rectangle(F30_W, F30_H)
    extrude(amount=F31_DEPTH)


solid = Compound([f1.part, f3.part, f5_2.part, f7.part, f9.part, f11.part, f11b.part, f11c.part, f11d.part, f11e.part, f11f.part, f11g.part, f11h.part, f11i.part, f11j.part, f11k.part, f5_1_1.part, f18.part, f18b.part, f20.part, f21_1.part, f23.part, f25.part, f27.part, f29.part, f29b.part, f29c.part, f29d.part, f29e.part, f29f.part, f29g.part, f29h.part, f29i.part, f29j.part, f29k.part, f29l.part, f31.part])
